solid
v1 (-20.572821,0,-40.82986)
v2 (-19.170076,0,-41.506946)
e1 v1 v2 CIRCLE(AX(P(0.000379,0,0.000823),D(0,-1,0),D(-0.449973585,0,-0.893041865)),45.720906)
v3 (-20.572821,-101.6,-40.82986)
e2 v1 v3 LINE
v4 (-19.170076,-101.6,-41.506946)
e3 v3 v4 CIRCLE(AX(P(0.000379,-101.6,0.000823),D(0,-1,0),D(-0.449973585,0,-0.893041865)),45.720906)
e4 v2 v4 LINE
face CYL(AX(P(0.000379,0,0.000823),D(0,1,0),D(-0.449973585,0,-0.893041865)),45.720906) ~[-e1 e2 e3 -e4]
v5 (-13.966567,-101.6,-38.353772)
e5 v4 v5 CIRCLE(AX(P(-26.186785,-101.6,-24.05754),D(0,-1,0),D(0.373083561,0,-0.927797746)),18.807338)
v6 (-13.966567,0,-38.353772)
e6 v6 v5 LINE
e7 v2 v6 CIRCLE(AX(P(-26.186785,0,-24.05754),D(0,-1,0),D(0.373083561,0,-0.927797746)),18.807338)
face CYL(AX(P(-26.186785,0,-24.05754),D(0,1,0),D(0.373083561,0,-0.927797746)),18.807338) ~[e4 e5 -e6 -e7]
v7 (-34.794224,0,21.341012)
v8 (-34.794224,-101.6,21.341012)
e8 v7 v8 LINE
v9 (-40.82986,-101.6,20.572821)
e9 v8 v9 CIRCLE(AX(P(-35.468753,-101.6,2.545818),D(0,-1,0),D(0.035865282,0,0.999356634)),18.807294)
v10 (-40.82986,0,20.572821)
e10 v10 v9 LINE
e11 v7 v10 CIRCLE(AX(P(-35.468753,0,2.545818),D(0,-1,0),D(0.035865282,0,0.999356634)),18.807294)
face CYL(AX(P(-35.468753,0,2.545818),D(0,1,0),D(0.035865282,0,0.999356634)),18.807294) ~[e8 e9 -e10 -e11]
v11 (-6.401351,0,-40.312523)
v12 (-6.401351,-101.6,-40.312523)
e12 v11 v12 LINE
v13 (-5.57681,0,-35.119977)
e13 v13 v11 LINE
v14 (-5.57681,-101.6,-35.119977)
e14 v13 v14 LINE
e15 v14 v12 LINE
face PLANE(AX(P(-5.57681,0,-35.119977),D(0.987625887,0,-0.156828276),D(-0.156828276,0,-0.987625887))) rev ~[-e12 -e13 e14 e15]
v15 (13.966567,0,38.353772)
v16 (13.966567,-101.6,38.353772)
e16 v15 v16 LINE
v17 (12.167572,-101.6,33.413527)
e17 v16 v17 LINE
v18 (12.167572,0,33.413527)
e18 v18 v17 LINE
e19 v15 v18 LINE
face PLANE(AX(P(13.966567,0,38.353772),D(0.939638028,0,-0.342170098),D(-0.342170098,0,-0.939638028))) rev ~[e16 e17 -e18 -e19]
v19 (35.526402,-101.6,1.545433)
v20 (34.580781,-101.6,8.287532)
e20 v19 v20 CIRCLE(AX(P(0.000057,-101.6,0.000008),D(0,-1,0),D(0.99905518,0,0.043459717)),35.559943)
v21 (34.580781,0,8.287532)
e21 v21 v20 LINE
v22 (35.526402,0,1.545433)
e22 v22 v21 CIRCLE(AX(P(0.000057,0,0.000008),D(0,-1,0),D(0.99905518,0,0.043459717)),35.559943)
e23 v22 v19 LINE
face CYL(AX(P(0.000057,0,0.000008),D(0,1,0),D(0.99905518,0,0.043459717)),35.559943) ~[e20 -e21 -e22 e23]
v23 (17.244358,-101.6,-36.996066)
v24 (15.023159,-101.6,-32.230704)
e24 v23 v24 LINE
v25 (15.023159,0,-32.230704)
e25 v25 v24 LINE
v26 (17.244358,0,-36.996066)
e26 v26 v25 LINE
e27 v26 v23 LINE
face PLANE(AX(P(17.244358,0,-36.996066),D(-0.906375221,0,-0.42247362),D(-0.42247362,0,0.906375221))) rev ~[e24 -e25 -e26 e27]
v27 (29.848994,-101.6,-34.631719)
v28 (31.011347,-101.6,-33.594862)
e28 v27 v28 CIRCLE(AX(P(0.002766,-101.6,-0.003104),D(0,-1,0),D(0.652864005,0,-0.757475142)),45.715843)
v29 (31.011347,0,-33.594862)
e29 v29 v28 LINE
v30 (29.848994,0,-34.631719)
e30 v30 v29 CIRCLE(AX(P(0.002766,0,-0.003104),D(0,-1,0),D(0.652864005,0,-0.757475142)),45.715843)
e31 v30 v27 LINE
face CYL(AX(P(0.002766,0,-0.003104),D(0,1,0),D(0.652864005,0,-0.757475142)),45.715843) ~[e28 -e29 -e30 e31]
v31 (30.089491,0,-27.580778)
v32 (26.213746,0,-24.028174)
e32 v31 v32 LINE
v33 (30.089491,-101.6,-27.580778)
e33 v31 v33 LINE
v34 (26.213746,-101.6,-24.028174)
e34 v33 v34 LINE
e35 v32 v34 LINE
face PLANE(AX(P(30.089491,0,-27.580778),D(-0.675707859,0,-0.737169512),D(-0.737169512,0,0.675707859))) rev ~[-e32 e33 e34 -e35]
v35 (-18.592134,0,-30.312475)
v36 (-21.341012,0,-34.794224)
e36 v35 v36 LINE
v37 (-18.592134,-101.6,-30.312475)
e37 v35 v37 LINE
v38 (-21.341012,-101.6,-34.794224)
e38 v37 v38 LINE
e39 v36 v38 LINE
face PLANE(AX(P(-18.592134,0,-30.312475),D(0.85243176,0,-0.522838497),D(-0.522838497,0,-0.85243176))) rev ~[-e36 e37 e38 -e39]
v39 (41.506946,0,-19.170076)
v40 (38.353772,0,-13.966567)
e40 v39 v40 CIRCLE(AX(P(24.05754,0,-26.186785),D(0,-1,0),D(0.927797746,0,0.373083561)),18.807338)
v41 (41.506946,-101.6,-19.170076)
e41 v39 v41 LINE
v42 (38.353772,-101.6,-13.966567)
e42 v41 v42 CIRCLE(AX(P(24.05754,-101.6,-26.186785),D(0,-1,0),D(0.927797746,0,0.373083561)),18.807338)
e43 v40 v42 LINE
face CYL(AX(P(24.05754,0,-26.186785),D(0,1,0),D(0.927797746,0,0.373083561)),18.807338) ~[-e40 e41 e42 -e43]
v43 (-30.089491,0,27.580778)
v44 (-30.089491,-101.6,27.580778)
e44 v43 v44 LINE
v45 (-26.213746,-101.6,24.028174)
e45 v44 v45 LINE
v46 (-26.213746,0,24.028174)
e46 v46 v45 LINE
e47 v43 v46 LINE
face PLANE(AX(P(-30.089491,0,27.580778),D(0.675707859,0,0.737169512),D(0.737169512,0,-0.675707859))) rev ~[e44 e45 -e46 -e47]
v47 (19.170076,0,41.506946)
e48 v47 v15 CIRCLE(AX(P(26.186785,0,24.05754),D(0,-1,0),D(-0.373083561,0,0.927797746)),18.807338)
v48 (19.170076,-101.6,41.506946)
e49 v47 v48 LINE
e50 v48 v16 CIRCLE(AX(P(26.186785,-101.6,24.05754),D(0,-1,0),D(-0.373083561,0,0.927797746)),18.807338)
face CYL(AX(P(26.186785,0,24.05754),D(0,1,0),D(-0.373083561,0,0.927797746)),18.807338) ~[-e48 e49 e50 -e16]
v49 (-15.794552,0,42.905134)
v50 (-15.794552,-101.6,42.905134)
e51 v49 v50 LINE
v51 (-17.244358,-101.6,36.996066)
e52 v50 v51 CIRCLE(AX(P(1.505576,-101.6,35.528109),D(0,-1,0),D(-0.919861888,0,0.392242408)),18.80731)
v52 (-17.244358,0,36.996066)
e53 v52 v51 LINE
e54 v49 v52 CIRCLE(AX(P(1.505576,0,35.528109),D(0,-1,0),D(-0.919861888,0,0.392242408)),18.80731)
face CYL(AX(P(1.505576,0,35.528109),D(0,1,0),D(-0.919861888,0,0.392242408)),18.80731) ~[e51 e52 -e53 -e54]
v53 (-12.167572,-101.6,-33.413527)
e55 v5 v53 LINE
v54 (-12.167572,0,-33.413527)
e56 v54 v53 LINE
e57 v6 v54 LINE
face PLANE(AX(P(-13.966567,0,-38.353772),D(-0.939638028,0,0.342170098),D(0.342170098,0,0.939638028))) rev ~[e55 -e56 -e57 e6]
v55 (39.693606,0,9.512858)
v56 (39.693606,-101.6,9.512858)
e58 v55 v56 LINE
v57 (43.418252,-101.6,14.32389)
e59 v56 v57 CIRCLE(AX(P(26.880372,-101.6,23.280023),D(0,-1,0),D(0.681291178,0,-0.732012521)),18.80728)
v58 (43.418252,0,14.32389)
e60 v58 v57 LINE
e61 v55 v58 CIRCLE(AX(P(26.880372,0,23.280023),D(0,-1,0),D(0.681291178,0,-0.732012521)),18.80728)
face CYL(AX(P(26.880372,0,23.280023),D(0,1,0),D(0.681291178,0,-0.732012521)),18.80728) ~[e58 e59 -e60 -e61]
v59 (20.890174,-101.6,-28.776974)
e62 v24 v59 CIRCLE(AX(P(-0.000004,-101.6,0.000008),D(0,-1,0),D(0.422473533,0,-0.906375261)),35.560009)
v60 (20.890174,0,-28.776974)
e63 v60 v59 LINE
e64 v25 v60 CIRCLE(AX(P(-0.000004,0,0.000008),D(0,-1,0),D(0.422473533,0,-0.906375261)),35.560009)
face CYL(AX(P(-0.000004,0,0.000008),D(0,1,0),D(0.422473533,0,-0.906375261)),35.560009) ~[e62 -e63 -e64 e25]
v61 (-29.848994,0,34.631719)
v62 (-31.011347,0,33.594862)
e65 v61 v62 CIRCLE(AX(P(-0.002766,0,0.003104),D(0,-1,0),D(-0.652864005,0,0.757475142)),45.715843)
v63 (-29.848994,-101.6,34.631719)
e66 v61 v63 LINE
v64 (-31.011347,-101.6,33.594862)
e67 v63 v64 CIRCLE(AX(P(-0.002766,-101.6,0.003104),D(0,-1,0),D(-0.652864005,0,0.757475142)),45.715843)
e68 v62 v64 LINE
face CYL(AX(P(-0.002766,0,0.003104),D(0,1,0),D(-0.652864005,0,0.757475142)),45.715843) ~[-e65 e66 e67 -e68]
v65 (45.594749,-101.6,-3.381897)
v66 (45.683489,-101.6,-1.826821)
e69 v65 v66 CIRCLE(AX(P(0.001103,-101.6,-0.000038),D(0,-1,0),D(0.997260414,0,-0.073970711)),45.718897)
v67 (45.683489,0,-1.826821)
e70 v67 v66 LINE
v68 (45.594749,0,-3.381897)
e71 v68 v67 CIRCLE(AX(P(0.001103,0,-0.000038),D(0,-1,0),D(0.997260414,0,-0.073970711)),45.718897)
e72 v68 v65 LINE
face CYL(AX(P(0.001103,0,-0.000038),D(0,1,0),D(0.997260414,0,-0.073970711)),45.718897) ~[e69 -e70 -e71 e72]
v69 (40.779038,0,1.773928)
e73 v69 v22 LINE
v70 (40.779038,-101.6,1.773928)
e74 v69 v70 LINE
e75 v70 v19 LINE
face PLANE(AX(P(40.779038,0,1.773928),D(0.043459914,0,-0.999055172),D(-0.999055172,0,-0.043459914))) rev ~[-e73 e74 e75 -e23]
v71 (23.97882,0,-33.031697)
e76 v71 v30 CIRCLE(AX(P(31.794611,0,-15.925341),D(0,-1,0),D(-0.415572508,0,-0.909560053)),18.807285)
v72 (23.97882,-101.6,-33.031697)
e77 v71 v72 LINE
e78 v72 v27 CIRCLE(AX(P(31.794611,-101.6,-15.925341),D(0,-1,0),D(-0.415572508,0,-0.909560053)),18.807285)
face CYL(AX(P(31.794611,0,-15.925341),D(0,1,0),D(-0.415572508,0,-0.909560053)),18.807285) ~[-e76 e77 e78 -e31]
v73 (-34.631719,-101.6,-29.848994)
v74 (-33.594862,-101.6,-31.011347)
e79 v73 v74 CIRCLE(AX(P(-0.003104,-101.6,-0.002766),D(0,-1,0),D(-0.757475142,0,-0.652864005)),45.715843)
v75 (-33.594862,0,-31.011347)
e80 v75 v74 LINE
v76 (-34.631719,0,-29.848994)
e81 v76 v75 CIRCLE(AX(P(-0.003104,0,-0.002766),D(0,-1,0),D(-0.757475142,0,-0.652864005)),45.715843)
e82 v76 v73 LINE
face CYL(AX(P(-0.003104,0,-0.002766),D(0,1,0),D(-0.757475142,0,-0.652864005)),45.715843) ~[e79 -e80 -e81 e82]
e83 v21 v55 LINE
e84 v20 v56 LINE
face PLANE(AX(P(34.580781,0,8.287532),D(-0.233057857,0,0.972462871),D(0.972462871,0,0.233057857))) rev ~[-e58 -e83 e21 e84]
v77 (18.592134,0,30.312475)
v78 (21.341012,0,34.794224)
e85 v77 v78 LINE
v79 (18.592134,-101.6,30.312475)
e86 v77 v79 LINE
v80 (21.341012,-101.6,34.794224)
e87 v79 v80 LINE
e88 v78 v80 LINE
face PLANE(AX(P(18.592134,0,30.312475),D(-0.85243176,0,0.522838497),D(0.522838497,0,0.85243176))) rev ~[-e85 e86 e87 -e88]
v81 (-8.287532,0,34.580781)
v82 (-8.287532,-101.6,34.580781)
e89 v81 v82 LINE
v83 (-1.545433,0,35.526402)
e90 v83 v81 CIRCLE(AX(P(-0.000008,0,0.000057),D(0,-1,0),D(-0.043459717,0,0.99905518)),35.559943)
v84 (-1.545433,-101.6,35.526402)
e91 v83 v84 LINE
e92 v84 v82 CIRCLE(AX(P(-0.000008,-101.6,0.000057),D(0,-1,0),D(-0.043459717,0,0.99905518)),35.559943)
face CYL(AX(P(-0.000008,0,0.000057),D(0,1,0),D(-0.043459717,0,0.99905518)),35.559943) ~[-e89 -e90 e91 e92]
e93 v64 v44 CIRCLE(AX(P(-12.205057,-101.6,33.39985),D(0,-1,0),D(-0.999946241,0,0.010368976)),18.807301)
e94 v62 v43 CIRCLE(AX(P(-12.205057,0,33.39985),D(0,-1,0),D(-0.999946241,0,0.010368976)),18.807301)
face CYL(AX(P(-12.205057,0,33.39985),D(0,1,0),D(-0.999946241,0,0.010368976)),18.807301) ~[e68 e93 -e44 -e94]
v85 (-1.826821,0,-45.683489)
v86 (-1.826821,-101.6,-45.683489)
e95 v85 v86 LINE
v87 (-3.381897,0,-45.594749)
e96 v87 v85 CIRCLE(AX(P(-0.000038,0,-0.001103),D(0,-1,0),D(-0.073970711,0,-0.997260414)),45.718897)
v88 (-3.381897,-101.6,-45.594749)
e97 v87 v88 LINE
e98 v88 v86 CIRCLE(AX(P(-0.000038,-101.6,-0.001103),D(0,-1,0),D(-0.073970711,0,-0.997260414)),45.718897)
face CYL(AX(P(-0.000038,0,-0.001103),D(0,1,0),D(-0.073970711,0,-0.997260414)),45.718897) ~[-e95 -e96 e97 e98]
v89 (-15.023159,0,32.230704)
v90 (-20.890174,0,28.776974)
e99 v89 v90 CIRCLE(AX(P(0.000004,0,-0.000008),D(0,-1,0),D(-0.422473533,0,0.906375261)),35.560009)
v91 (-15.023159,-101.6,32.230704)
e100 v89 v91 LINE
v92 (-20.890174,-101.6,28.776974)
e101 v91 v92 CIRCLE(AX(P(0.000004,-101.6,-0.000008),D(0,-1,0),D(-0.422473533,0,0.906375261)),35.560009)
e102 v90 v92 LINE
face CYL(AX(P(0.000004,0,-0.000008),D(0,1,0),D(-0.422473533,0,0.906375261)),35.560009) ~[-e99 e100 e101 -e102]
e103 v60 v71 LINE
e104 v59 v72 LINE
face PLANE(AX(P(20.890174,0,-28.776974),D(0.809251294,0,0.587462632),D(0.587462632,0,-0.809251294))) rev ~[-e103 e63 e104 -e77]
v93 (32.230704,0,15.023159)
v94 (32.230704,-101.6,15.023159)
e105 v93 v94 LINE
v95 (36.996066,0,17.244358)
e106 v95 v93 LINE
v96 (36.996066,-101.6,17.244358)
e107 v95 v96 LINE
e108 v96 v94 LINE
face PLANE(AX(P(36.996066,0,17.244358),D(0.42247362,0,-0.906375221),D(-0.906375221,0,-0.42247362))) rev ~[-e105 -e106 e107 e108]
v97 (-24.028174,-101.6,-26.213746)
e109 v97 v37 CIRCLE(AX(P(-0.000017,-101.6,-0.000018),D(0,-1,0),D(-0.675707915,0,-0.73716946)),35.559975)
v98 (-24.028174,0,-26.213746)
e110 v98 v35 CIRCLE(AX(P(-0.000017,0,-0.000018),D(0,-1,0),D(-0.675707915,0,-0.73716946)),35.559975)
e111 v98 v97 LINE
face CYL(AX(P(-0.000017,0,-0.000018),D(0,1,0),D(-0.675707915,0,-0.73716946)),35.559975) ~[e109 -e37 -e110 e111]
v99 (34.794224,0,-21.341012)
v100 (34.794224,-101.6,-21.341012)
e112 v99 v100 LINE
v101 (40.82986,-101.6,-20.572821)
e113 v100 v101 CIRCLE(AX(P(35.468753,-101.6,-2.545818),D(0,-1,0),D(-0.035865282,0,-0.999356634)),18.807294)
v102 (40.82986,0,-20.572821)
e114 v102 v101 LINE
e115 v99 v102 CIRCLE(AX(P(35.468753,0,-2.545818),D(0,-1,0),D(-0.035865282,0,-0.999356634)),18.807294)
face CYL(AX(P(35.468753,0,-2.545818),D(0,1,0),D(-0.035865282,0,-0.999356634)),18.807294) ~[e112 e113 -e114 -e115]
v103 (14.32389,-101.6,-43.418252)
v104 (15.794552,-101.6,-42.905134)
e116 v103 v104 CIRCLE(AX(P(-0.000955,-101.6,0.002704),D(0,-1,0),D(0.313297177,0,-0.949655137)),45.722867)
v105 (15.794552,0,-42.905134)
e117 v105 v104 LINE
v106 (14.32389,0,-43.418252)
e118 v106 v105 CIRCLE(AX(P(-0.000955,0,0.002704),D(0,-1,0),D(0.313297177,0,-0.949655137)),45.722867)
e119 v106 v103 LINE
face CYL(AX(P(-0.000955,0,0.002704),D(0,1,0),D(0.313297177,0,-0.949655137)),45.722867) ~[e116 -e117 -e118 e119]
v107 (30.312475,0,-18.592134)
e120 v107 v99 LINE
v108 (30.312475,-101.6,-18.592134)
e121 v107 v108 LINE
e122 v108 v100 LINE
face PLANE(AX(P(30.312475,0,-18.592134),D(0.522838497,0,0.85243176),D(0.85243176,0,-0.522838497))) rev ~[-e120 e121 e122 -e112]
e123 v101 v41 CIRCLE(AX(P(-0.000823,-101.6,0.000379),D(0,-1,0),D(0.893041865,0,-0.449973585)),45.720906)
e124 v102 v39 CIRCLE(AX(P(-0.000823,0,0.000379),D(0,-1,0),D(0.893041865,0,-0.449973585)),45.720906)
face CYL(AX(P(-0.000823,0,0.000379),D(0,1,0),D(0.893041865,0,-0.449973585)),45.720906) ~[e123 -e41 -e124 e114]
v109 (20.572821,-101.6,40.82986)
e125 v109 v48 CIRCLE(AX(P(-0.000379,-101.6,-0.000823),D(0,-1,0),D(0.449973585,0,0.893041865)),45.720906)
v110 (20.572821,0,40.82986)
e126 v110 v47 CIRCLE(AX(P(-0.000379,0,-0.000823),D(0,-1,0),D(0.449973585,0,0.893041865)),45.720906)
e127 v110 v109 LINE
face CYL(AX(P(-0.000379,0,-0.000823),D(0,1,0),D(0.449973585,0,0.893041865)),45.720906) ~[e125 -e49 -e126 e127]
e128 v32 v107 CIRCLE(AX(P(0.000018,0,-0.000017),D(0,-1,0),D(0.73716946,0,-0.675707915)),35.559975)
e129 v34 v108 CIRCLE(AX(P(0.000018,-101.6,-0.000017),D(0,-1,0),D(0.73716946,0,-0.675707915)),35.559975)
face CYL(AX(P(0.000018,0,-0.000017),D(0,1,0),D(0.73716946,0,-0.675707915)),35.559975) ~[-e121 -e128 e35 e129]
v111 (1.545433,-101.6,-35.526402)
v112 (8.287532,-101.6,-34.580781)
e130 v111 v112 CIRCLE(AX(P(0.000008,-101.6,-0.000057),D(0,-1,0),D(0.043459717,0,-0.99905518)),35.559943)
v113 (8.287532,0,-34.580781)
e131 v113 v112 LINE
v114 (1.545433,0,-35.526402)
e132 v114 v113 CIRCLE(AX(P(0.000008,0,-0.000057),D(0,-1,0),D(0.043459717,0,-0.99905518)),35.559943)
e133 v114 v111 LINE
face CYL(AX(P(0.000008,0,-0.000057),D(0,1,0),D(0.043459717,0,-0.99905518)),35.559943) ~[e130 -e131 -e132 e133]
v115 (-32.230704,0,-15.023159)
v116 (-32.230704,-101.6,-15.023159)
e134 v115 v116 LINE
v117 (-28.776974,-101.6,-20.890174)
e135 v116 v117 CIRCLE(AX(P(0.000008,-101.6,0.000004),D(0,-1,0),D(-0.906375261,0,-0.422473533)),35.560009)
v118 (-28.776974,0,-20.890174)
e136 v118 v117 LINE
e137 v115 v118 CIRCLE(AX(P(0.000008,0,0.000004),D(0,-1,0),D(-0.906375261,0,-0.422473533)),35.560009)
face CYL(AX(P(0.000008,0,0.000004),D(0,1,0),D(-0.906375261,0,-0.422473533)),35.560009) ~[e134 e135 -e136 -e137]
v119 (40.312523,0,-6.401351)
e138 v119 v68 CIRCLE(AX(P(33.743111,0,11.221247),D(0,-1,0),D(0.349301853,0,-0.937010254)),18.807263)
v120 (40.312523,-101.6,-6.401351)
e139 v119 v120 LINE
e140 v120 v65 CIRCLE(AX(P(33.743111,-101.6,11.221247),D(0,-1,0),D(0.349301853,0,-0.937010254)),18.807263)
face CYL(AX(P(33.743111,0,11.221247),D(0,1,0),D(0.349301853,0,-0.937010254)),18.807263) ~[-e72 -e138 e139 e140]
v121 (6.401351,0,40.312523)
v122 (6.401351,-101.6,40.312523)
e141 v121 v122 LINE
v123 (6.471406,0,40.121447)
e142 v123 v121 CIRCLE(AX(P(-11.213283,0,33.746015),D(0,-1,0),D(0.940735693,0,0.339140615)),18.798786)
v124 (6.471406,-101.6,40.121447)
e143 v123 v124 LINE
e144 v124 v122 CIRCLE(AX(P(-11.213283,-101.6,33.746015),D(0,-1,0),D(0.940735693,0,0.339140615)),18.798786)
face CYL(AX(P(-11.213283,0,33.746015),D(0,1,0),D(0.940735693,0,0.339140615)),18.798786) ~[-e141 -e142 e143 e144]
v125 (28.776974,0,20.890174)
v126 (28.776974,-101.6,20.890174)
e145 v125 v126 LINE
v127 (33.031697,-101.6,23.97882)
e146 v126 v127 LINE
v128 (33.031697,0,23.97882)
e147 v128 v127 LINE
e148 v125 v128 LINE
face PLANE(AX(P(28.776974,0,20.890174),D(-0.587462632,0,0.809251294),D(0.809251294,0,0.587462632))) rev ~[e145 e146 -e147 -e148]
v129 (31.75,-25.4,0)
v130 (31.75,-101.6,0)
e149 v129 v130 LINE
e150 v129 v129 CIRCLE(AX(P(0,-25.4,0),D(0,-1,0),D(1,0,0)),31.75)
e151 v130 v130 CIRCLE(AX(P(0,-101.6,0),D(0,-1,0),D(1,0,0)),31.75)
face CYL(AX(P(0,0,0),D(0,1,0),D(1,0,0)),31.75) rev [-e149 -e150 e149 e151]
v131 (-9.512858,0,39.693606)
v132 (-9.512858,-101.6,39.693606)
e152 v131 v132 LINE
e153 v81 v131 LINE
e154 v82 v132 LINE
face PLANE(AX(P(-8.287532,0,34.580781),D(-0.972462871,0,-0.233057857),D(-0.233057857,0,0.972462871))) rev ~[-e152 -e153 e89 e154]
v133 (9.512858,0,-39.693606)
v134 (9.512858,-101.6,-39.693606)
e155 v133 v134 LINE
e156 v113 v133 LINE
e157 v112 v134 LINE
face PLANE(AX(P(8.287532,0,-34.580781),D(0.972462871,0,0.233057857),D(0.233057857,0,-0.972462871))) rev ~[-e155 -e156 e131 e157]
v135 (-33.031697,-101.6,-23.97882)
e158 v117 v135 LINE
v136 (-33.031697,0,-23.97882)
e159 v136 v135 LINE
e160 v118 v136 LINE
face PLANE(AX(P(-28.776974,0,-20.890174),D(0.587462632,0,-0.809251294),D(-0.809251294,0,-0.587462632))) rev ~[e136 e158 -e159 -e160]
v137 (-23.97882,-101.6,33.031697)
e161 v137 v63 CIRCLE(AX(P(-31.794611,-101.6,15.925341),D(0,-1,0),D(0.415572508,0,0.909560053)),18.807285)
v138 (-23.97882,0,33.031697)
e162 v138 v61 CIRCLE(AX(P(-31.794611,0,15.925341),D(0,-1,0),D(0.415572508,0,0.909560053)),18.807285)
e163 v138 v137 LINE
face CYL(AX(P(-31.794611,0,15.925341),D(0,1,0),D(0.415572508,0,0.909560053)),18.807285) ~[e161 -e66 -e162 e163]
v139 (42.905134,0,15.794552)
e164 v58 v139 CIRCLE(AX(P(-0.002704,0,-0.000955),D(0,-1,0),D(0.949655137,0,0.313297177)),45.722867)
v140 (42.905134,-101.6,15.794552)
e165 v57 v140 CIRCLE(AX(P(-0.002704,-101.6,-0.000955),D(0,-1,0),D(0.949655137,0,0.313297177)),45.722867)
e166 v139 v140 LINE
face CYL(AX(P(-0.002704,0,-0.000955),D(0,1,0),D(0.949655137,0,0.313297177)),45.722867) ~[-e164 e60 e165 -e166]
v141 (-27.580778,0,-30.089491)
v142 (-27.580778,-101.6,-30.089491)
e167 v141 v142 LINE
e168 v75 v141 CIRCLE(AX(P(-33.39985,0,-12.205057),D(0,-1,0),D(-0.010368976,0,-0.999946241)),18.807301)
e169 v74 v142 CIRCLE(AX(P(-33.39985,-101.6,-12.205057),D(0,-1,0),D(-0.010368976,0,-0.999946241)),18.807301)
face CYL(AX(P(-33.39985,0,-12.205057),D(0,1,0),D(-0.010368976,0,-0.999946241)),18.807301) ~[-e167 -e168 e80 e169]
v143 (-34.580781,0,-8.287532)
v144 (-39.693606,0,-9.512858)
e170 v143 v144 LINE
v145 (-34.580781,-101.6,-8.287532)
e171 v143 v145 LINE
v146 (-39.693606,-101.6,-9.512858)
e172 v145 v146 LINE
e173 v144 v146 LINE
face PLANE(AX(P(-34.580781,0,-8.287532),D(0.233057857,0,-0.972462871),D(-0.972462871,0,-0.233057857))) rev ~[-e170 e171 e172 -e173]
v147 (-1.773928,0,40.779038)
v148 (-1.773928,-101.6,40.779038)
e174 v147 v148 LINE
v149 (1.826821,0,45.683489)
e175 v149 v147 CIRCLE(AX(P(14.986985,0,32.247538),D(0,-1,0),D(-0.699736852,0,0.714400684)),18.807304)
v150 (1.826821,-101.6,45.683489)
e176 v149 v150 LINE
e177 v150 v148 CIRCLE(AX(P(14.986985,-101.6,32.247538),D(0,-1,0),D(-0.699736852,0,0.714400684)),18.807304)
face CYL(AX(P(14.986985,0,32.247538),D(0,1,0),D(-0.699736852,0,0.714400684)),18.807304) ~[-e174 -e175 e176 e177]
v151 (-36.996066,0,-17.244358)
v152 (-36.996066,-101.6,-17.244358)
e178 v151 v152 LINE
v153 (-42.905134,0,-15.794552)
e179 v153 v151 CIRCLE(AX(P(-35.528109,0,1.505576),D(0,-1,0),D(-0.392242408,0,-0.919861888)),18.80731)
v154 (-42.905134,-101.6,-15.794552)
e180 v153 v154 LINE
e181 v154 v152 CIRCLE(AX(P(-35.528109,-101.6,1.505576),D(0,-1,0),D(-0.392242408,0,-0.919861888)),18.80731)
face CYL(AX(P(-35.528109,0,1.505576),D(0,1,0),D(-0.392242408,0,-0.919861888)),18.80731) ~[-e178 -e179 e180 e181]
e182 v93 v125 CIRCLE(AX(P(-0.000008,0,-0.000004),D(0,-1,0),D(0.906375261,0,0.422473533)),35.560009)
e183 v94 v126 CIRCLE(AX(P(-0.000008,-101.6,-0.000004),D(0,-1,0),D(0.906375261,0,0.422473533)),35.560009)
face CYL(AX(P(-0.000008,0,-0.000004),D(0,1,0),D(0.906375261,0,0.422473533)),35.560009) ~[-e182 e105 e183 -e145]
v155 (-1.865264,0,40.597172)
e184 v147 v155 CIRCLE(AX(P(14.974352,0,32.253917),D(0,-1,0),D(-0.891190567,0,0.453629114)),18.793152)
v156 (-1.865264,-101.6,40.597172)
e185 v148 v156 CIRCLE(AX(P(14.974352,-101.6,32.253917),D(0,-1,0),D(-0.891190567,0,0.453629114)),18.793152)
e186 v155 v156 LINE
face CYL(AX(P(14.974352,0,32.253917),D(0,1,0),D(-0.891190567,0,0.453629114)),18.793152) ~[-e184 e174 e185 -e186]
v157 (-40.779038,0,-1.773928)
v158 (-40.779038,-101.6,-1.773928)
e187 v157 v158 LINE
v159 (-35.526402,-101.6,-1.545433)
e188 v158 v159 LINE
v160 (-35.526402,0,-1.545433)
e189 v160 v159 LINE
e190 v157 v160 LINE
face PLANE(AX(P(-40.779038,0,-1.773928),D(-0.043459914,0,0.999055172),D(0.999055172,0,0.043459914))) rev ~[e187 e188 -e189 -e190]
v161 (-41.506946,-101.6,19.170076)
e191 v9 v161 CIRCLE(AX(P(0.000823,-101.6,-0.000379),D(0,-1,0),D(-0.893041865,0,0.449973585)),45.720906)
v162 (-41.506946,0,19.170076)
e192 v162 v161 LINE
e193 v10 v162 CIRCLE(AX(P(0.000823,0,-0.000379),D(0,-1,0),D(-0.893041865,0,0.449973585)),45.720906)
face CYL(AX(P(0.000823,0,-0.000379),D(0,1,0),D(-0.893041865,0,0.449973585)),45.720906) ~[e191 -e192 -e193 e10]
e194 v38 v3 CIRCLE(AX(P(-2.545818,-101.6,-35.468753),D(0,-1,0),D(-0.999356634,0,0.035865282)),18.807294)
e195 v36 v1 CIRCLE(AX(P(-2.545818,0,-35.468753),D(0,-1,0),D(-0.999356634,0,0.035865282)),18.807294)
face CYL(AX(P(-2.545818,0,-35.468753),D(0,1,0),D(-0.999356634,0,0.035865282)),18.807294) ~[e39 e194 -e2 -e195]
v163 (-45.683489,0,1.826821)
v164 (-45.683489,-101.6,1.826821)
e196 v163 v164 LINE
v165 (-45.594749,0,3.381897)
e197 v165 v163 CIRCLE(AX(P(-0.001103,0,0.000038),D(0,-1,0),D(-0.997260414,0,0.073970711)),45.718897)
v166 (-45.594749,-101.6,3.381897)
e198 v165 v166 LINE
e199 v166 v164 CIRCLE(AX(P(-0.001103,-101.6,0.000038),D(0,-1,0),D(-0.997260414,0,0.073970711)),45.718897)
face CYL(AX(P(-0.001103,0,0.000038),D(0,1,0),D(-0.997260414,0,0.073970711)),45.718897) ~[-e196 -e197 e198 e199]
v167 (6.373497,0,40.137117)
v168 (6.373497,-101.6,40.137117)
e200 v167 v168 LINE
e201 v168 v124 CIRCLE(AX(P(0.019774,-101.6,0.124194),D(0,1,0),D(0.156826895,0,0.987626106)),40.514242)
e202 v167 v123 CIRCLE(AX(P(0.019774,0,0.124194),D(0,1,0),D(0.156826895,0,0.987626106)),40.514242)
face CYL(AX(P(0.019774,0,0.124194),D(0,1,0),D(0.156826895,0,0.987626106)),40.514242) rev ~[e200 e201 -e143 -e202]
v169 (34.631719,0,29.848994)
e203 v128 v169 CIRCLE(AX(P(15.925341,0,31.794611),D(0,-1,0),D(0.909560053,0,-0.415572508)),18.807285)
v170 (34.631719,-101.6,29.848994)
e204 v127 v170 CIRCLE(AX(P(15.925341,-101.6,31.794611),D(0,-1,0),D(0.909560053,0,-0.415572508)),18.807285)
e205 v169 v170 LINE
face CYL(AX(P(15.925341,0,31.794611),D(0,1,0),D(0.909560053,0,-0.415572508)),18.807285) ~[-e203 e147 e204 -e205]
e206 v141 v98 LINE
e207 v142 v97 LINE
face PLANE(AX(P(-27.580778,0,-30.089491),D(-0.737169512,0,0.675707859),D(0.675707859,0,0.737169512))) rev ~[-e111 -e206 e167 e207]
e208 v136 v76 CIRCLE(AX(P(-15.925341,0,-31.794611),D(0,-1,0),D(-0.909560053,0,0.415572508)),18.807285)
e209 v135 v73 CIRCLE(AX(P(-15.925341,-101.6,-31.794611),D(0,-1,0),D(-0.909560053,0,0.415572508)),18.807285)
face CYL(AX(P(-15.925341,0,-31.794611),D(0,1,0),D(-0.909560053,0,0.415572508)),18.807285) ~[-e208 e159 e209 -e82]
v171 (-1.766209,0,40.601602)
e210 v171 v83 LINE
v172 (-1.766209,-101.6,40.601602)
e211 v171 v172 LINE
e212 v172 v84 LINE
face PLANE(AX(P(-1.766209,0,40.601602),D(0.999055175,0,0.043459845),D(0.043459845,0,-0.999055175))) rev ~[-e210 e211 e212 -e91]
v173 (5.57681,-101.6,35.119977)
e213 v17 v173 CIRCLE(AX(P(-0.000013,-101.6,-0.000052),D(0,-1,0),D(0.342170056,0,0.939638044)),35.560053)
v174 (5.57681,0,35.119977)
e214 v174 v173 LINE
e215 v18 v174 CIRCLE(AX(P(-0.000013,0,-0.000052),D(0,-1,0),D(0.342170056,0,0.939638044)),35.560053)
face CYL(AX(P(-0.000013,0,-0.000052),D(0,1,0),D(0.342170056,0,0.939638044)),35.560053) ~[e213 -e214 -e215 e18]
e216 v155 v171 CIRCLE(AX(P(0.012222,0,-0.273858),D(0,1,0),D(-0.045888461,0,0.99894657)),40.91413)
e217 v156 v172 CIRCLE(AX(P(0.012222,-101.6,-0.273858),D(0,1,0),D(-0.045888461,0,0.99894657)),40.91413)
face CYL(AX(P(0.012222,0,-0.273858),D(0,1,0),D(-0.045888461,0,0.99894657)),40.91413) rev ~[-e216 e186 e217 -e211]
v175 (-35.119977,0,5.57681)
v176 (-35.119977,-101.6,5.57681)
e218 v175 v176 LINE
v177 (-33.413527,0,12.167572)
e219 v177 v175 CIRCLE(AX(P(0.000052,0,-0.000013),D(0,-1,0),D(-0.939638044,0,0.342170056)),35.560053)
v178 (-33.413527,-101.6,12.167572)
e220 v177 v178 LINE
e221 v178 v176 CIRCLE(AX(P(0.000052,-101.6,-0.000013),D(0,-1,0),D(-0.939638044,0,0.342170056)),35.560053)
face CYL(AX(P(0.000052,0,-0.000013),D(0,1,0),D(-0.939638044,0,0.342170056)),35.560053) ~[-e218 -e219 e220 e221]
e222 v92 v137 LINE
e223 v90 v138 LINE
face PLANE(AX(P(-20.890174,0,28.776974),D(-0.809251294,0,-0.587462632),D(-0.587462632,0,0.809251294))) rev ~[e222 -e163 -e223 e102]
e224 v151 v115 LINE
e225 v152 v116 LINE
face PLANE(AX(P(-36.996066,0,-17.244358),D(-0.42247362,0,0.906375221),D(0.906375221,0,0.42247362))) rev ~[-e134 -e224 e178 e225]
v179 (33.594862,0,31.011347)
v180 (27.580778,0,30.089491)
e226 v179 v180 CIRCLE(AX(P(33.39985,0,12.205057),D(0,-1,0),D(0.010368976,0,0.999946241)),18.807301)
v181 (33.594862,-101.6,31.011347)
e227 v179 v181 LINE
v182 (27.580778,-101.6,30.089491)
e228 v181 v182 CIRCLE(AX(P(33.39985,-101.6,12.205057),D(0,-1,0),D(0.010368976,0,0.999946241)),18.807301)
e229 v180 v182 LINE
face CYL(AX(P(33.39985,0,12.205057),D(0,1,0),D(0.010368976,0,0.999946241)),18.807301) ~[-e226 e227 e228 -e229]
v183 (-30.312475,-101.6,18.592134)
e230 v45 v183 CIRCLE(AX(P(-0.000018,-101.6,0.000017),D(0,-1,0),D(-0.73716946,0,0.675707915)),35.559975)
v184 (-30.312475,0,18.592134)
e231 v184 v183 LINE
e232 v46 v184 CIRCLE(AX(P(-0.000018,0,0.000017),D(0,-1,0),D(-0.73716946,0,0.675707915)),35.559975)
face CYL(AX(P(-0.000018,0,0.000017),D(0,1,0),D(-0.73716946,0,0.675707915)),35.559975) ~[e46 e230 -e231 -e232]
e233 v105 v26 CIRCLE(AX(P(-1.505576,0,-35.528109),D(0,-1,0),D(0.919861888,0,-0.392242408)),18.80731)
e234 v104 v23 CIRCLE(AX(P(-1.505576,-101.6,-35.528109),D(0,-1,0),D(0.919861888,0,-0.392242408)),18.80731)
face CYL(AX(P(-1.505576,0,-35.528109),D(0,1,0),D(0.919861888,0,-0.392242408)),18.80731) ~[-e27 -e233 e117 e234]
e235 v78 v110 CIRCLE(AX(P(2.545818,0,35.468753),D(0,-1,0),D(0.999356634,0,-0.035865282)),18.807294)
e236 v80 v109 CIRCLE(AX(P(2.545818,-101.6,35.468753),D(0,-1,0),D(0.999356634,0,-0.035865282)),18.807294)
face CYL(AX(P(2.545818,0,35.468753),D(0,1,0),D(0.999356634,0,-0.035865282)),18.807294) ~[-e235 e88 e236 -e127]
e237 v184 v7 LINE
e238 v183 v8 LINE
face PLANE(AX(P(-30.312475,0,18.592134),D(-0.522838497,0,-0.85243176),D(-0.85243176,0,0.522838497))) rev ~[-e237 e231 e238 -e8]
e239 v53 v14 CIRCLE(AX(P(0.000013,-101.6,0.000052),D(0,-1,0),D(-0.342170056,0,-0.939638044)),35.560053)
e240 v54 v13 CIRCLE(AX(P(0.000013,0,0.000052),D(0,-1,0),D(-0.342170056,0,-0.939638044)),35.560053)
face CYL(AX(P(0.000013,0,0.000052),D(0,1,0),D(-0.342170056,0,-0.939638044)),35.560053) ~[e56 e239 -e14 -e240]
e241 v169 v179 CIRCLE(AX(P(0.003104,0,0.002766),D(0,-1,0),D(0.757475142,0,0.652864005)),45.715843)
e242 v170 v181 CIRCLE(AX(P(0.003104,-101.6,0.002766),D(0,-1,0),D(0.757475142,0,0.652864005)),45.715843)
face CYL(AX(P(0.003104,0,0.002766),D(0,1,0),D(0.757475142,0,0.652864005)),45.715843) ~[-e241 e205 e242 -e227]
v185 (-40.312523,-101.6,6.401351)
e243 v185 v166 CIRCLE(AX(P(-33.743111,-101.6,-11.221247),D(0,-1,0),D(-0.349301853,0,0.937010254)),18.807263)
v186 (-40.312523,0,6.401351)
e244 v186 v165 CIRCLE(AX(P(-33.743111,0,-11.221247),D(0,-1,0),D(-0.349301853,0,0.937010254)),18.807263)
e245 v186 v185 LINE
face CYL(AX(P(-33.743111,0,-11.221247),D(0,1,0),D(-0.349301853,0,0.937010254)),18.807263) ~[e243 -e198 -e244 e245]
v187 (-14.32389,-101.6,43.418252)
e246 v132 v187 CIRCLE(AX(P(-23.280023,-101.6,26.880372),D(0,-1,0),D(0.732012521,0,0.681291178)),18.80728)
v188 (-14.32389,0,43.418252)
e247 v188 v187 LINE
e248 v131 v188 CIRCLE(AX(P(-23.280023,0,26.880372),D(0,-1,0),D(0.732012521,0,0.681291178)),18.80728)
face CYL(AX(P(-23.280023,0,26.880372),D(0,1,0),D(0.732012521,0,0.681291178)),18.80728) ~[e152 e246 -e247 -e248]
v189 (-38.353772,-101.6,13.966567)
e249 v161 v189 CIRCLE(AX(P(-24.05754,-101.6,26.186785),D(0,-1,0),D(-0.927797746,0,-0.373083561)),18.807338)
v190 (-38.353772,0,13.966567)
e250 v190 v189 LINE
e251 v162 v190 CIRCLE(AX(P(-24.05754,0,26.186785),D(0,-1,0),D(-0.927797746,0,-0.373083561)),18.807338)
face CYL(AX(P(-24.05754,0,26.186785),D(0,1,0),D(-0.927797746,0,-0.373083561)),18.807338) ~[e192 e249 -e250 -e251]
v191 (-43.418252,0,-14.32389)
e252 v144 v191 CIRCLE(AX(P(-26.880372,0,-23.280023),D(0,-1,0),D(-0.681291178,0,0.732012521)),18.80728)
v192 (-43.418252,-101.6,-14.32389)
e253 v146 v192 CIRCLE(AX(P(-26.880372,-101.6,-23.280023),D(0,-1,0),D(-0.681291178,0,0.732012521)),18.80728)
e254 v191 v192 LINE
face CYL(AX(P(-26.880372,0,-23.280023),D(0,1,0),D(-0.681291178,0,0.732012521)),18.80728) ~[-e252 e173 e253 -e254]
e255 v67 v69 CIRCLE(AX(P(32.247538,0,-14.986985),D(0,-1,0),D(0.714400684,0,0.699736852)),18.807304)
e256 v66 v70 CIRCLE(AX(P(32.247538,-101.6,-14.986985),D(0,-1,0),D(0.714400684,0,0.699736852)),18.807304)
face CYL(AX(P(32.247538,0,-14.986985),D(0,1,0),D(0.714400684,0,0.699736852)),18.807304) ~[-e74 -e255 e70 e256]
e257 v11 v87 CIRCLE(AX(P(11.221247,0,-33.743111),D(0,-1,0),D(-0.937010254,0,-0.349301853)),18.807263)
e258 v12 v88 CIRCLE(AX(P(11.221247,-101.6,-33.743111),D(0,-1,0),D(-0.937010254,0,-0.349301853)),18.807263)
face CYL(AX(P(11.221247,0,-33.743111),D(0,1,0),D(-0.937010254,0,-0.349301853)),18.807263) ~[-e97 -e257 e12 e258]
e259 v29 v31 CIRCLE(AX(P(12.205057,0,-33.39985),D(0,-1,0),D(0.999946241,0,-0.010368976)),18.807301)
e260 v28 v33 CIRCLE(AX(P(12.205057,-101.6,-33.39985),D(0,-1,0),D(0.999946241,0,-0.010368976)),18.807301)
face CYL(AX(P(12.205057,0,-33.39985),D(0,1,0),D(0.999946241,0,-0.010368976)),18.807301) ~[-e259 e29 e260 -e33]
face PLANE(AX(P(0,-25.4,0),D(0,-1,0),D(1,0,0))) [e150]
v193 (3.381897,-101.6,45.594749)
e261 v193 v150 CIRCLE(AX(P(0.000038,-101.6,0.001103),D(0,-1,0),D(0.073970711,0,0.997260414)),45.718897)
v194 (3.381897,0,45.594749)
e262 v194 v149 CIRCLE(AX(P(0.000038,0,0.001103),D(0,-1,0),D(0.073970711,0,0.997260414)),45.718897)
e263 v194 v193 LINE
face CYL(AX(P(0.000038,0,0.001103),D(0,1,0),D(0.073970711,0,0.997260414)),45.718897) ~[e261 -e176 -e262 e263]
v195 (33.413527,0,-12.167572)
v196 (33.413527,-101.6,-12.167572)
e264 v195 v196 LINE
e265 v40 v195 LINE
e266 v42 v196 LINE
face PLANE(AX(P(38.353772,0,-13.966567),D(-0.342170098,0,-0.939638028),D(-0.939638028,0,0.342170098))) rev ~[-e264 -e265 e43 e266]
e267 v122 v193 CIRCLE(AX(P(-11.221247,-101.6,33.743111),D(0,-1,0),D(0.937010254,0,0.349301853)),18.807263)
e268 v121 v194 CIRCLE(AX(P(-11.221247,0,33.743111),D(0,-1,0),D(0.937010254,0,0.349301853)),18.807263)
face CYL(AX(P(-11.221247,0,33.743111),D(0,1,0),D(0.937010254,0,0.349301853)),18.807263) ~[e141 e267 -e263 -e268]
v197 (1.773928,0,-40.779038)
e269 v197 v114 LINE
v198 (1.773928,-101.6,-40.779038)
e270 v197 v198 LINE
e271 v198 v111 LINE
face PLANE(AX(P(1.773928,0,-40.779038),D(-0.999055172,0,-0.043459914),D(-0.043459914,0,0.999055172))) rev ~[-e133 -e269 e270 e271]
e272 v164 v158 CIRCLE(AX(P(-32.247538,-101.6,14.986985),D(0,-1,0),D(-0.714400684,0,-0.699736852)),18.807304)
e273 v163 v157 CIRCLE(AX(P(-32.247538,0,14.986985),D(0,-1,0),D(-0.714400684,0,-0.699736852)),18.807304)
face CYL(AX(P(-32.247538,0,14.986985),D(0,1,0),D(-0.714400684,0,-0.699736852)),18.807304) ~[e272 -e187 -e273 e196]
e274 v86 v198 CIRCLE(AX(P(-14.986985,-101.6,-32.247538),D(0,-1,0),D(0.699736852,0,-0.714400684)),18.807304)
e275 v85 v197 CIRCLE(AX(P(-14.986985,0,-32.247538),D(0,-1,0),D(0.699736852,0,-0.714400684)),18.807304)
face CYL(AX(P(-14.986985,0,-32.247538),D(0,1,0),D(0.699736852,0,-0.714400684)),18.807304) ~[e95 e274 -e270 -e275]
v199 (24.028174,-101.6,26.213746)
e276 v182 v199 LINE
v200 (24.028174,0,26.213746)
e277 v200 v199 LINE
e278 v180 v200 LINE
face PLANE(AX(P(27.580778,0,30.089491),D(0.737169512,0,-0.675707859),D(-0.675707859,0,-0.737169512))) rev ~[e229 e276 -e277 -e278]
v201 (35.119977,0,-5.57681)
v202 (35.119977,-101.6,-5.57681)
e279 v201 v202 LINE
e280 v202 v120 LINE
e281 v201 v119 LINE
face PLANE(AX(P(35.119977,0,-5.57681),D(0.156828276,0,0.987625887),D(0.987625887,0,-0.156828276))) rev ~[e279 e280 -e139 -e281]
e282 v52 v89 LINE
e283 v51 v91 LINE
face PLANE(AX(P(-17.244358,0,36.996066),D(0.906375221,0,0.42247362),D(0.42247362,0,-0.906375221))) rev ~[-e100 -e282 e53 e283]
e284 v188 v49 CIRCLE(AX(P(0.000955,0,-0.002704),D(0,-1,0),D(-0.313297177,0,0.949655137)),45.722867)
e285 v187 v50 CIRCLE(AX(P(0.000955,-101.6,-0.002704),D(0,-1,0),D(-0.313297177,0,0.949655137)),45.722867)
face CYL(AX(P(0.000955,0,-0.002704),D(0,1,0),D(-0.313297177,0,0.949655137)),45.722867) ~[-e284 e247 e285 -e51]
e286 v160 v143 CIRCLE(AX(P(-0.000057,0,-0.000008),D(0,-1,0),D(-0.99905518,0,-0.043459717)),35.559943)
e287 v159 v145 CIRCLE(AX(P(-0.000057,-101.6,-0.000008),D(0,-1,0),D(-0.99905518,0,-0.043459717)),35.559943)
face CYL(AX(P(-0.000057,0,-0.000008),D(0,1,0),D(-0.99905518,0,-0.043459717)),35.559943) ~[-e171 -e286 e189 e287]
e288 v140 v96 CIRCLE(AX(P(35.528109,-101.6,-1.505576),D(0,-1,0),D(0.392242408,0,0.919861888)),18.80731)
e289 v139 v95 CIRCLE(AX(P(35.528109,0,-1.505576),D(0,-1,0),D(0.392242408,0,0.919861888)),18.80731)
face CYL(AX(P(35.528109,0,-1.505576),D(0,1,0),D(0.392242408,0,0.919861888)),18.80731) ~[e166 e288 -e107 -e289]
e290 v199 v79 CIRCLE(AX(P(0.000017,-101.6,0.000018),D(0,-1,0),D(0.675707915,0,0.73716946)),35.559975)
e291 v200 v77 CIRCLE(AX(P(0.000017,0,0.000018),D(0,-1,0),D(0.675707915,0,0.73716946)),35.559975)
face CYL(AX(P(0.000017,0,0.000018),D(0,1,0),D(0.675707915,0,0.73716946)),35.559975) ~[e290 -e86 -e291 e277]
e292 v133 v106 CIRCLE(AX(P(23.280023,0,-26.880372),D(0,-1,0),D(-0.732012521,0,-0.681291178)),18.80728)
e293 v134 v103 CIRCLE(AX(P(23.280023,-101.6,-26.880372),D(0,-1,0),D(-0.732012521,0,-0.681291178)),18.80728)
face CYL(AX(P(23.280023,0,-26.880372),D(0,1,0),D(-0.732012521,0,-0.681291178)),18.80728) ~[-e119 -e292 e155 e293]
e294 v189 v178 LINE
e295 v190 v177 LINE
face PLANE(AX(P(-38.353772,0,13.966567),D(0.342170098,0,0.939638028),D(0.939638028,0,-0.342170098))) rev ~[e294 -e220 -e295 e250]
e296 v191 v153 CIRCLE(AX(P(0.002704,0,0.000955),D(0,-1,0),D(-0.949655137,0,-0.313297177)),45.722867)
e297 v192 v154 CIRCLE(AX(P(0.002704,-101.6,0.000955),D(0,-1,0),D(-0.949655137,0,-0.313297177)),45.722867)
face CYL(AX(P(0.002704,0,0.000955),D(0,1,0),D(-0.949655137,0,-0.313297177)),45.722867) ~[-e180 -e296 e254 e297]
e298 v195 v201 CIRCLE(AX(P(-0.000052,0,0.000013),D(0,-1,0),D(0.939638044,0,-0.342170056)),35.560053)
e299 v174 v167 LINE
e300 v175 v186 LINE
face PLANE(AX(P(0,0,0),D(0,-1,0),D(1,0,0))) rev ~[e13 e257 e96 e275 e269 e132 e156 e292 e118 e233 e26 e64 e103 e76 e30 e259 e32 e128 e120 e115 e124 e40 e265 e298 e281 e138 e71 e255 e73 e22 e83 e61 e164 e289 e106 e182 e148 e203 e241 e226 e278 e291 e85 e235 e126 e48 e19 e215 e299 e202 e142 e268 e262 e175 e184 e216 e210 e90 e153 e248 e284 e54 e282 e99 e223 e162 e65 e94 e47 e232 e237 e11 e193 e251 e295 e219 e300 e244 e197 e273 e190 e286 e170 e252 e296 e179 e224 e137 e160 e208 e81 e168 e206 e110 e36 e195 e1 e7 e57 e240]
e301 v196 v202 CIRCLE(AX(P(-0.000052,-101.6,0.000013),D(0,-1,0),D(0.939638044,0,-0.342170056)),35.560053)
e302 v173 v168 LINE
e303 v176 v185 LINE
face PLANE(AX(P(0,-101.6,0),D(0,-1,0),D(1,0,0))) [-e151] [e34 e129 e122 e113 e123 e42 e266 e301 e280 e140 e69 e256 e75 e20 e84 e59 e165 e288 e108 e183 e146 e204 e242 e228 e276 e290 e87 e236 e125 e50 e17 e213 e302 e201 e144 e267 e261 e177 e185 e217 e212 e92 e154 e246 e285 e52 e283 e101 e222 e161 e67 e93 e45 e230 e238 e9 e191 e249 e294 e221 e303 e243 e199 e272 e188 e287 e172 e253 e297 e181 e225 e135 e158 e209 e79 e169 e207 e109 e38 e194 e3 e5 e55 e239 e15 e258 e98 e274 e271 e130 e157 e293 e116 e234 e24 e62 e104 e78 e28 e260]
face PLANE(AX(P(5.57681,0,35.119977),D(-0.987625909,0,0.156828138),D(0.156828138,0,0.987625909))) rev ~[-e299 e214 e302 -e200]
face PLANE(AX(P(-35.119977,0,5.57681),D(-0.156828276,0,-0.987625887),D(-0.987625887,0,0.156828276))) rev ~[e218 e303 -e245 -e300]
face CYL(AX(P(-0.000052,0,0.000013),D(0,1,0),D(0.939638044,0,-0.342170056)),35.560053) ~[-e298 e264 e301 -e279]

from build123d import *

# Parameters (mm, degrees)
F0_R     = 31.75
F1_DEPTH = 101.6
F2_R     = 31.75
F3_DEPTH = 25.4


with BuildPart() as f1:
    # F0 (on Front) → F1 (new body)
    with BuildSketch(Plane.XZ):
        with BuildLine():
            ThreePointArc((6.401351, 40.312523), (5.106646, 43.076548), (3.381897, 45.594749))
            ThreePointArc((3.381897, 45.594749), (2.604737, 45.645742), (1.826821, 45.683489))
            ThreePointArc((1.826821, 45.683489), (-0.173197, 43.377838), (-1.773928, 40.779038))
            Line((-1.773928, 40.779038), (-1.766209, 40.601602))
            Line((-1.766209, 40.601602), (-1.545433, 35.526402))
            ThreePointArc((-1.545433, 35.526402), (-4.939165, 35.215313), (-8.287532, 34.580781))
            Line((-8.287532, 34.580781), (-9.512858, 39.693606))
            ThreePointArc((-9.512858, 39.693606), (-11.766756, 41.75177), (-14.32389, 43.418252))
            ThreePointArc((-14.32389, 43.418252), (-15.061406, 43.167956), (-15.794552, 42.905134))
            ThreePointArc((-15.794552, 42.905134), (-16.759993, 40.009617), (-17.244358, 36.996066))
            Line((-17.244358, 36.996066), (-15.023159, 32.230704))
            ThreePointArc((-15.023159, 32.230704), (-18.03951, 30.64457), (-20.890174, 28.776974))
            Line((-20.890174, 28.776974), (-23.97882, 33.031697))
            ThreePointArc((-23.97882, 33.031697), (-26.848775, 34.070663), (-29.848994, 34.631719))
            ThreePointArc((-29.848994, 34.631719), (-30.434587, 34.118241), (-31.011347, 33.594862))
            ThreePointArc((-31.011347, 33.594862), (-30.795232, 30.550294), (-30.089491, 27.580778))
            Line((-30.089491, 27.580778), (-26.213746, 24.028174))
            ThreePointArc((-26.213746, 24.028174), (-28.393504, 21.408469), (-30.312475, 18.592134))
            Line((-30.312475, 18.592134), (-34.794224, 21.341012))
            ThreePointArc((-34.794224, 21.341012), (-37.843312, 21.202607), (-40.82986, 20.572821))
            ThreePointArc((-40.82986, 20.572821), (-41.174377, 19.874332), (-41.506946, 19.170076))
            ThreePointArc((-41.506946, 19.170076), (-40.142176, 16.439967), (-38.353772, 13.966567))
            Line((-38.353772, 13.966567), (-33.413527, 12.167572))
            ThreePointArc((-33.413527, 12.167572), (-34.424843, 8.913123), (-35.119977, 5.57681))
            Line((-35.119977, 5.57681), (-40.312523, 6.401351))
            ThreePointArc((-40.312523, 6.401351), (-43.076548, 5.106646), (-45.594749, 3.381897))
            ThreePointArc((-45.594749, 3.381897), (-45.645742, 2.604737), (-45.683489, 1.826821))
            ThreePointArc((-45.683489, 1.826821), (-43.377838, -0.173197), (-40.779038, -1.773928))
            Line((-40.779038, -1.773928), (-35.526402, -1.545433))
            ThreePointArc((-35.526402, -1.545433), (-35.215313, -4.939165), (-34.580781, -8.287532))
            Line((-34.580781, -8.287532), (-39.693606, -9.512858))
            ThreePointArc((-39.693606, -9.512858), (-41.75177, -11.766756), (-43.418252, -14.32389))
            ThreePointArc((-43.418252, -14.32389), (-43.167956, -15.061406), (-42.905134, -15.794552))
            ThreePointArc((-42.905134, -15.794552), (-40.009617, -16.759993), (-36.996066, -17.244358))
            Line((-36.996066, -17.244358), (-32.230704, -15.023159))
            ThreePointArc((-32.230704, -15.023159), (-30.64457, -18.03951), (-28.776974, -20.890174))
            Line((-28.776974, -20.890174), (-33.031697, -23.97882))
            ThreePointArc((-33.031697, -23.97882), (-34.070663, -26.848775), (-34.631719, -29.848994))
            ThreePointArc((-34.631719, -29.848994), (-34.118241, -30.434587), (-33.594862, -31.011347))
            ThreePointArc((-33.594862, -31.011347), (-30.550294, -30.795232), (-27.580778, -30.089491))
            Line((-27.580778, -30.089491), (-24.028174, -26.213746))
            ThreePointArc((-24.028174, -26.213746), (-21.408469, -28.393504), (-18.592134, -30.312475))
            Line((-18.592134, -30.312475), (-21.341012, -34.794224))
            ThreePointArc((-21.341012, -34.794224), (-21.202607, -37.843312), (-20.572821, -40.82986))
            ThreePointArc((-20.572821, -40.82986), (-19.874332, -41.174377), (-19.170076, -41.506946))
            ThreePointArc((-19.170076, -41.506946), (-16.439967, -40.142176), (-13.966567, -38.353772))
            Line((-13.966567, -38.353772), (-12.167572, -33.413527))
            ThreePointArc((-12.167572, -33.413527), (-8.913123, -34.424843), (-5.57681, -35.119977))
            Line((-5.57681, -35.119977), (-6.401351, -40.312523))
            ThreePointArc((-6.401351, -40.312523), (-5.106646, -43.076548), (-3.381897, -45.594749))
            ThreePointArc((-3.381897, -45.594749), (-2.604737, -45.645742), (-1.826821, -45.683489))
            ThreePointArc((-1.826821, -45.683489), (0.173197, -43.377838), (1.773928, -40.779038))
            Line((1.773928, -40.779038), (1.545433, -35.526402))
            ThreePointArc((1.545433, -35.526402), (4.939165, -35.215313), (8.287532, -34.580781))
            Line((8.287532, -34.580781), (9.512858, -39.693606))
            ThreePointArc((9.512858, -39.693606), (11.766756, -41.75177), (14.32389, -43.418252))
            ThreePointArc((14.32389, -43.418252), (15.061406, -43.167956), (15.794552, -42.905134))
            ThreePointArc((15.794552, -42.905134), (16.759993, -40.009617), (17.244358, -36.996066))
            Line((17.244358, -36.996066), (15.023159, -32.230704))
            ThreePointArc((15.023159, -32.230704), (18.03951, -30.64457), (20.890174, -28.776974))
            Line((20.890174, -28.776974), (23.97882, -33.031697))
            ThreePointArc((23.97882, -33.031697), (26.848775, -34.070663), (29.848994, -34.631719))
            ThreePointArc((29.848994, -34.631719), (30.434587, -34.118241), (31.011347, -33.594862))
            ThreePointArc((31.011347, -33.594862), (30.795232, -30.550294), (30.089491, -27.580778))
            Line((30.089491, -27.580778), (26.213746, -24.028174))
            ThreePointArc((26.213746, -24.028174), (28.393504, -21.408469), (30.312475, -18.592134))
            Line((30.312475, -18.592134), (34.794224, -21.341012))
            ThreePointArc((34.794224, -21.341012), (37.843312, -21.202607), (40.82986, -20.572821))
            ThreePointArc((40.82986, -20.572821), (41.174377, -19.874332), (41.506946, -19.170076))
            ThreePointArc((41.506946, -19.170076), (40.142176, -16.439967), (38.353772, -13.966567))
            Line((38.353772, -13.966567), (33.413527, -12.167572))
            ThreePointArc((33.413527, -12.167572), (34.424843, -8.913123), (35.119977, -5.57681))
            Line((35.119977, -5.57681), (40.312523, -6.401351))
            ThreePointArc((40.312523, -6.401351), (43.076548, -5.106646), (45.594749, -3.381897))
            ThreePointArc((45.594749, -3.381897), (45.645742, -2.604737), (45.683489, -1.826821))
            ThreePointArc((45.683489, -1.826821), (43.377838, 0.173197), (40.779038, 1.773928))
            Line((40.779038, 1.773928), (35.526402, 1.545433))
            ThreePointArc((35.526402, 1.545433), (35.215313, 4.939165), (34.580781, 8.287532))
            Line((34.580781, 8.287532), (39.693606, 9.512858))
            ThreePointArc((39.693606, 9.512858), (41.75177, 11.766756), (43.418252, 14.32389))
            ThreePointArc((43.418252, 14.32389), (43.167956, 15.061406), (42.905134, 15.794552))
            ThreePointArc((42.905134, 15.794552), (40.009617, 16.759993), (36.996066, 17.244358))
            Line((36.996066, 17.244358), (32.230704, 15.023159))
            ThreePointArc((32.230704, 15.023159), (30.64457, 18.03951), (28.776974, 20.890174))
            Line((28.776974, 20.890174), (33.031697, 23.97882))
            ThreePointArc((33.031697, 23.97882), (34.070663, 26.848775), (34.631719, 29.848994))
            ThreePointArc((34.631719, 29.848994), (34.118241, 30.434587), (33.594862, 31.011347))
            ThreePointArc((33.594862, 31.011347), (30.550294, 30.795232), (27.580778, 30.089491))
            Line((27.580778, 30.089491), (24.028174, 26.213746))
            ThreePointArc((24.028174, 26.213746), (21.408469, 28.393504), (18.592134, 30.312475))
            Line((18.592134, 30.312475), (21.341012, 34.794224))
            ThreePointArc((21.341012, 34.794224), (21.202607, 37.843312), (20.572821, 40.82986))
            ThreePointArc((20.572821, 40.82986), (19.874332, 41.174377), (19.170076, 41.506946))
            ThreePointArc((19.170076, 41.506946), (16.439967, 40.142176), (13.966567, 38.353772))
            Line((13.966567, 38.353772), (12.167572, 33.413527))
            ThreePointArc((12.167572, 33.413527), (8.913123, 34.424843), (5.57681, 35.119977))
            Line((5.57681, 35.119977), (6.373497, 40.137117))
            Line((6.373497, 40.137117), (6.401351, 40.312523))
        make_face()
        Circle(F0_R, mode=Mode.SUBTRACT)
        with BuildLine():
            ThreePointArc((6.471406, 40.121447), (6.436637, 40.21708), (6.401351, 40.312523))
            Line((6.401351, 40.312523), (6.373497, 40.137117))
            ThreePointArc((6.373497, 40.137117), (6.422456, 40.129312), (6.471406, 40.121447))
        make_face()
        with BuildLine():
            Line((-1.766209, 40.601602), (-1.773928, 40.779038))
            ThreePointArc((-1.773928, 40.779038), (-1.819842, 40.688229), (-1.865264, 40.597172))
            ThreePointArc((-1.865264, 40.597172), (-1.815738, 40.599417), (-1.766209, 40.601602))
        make_face()
    extrude(amount=F1_DEPTH)

    # F2 (on Front) → F3 (join)
    with BuildSketch(Plane.XZ):
        Circle(F2_R)
    extrude(amount=F3_DEPTH)


solid = f1.part
